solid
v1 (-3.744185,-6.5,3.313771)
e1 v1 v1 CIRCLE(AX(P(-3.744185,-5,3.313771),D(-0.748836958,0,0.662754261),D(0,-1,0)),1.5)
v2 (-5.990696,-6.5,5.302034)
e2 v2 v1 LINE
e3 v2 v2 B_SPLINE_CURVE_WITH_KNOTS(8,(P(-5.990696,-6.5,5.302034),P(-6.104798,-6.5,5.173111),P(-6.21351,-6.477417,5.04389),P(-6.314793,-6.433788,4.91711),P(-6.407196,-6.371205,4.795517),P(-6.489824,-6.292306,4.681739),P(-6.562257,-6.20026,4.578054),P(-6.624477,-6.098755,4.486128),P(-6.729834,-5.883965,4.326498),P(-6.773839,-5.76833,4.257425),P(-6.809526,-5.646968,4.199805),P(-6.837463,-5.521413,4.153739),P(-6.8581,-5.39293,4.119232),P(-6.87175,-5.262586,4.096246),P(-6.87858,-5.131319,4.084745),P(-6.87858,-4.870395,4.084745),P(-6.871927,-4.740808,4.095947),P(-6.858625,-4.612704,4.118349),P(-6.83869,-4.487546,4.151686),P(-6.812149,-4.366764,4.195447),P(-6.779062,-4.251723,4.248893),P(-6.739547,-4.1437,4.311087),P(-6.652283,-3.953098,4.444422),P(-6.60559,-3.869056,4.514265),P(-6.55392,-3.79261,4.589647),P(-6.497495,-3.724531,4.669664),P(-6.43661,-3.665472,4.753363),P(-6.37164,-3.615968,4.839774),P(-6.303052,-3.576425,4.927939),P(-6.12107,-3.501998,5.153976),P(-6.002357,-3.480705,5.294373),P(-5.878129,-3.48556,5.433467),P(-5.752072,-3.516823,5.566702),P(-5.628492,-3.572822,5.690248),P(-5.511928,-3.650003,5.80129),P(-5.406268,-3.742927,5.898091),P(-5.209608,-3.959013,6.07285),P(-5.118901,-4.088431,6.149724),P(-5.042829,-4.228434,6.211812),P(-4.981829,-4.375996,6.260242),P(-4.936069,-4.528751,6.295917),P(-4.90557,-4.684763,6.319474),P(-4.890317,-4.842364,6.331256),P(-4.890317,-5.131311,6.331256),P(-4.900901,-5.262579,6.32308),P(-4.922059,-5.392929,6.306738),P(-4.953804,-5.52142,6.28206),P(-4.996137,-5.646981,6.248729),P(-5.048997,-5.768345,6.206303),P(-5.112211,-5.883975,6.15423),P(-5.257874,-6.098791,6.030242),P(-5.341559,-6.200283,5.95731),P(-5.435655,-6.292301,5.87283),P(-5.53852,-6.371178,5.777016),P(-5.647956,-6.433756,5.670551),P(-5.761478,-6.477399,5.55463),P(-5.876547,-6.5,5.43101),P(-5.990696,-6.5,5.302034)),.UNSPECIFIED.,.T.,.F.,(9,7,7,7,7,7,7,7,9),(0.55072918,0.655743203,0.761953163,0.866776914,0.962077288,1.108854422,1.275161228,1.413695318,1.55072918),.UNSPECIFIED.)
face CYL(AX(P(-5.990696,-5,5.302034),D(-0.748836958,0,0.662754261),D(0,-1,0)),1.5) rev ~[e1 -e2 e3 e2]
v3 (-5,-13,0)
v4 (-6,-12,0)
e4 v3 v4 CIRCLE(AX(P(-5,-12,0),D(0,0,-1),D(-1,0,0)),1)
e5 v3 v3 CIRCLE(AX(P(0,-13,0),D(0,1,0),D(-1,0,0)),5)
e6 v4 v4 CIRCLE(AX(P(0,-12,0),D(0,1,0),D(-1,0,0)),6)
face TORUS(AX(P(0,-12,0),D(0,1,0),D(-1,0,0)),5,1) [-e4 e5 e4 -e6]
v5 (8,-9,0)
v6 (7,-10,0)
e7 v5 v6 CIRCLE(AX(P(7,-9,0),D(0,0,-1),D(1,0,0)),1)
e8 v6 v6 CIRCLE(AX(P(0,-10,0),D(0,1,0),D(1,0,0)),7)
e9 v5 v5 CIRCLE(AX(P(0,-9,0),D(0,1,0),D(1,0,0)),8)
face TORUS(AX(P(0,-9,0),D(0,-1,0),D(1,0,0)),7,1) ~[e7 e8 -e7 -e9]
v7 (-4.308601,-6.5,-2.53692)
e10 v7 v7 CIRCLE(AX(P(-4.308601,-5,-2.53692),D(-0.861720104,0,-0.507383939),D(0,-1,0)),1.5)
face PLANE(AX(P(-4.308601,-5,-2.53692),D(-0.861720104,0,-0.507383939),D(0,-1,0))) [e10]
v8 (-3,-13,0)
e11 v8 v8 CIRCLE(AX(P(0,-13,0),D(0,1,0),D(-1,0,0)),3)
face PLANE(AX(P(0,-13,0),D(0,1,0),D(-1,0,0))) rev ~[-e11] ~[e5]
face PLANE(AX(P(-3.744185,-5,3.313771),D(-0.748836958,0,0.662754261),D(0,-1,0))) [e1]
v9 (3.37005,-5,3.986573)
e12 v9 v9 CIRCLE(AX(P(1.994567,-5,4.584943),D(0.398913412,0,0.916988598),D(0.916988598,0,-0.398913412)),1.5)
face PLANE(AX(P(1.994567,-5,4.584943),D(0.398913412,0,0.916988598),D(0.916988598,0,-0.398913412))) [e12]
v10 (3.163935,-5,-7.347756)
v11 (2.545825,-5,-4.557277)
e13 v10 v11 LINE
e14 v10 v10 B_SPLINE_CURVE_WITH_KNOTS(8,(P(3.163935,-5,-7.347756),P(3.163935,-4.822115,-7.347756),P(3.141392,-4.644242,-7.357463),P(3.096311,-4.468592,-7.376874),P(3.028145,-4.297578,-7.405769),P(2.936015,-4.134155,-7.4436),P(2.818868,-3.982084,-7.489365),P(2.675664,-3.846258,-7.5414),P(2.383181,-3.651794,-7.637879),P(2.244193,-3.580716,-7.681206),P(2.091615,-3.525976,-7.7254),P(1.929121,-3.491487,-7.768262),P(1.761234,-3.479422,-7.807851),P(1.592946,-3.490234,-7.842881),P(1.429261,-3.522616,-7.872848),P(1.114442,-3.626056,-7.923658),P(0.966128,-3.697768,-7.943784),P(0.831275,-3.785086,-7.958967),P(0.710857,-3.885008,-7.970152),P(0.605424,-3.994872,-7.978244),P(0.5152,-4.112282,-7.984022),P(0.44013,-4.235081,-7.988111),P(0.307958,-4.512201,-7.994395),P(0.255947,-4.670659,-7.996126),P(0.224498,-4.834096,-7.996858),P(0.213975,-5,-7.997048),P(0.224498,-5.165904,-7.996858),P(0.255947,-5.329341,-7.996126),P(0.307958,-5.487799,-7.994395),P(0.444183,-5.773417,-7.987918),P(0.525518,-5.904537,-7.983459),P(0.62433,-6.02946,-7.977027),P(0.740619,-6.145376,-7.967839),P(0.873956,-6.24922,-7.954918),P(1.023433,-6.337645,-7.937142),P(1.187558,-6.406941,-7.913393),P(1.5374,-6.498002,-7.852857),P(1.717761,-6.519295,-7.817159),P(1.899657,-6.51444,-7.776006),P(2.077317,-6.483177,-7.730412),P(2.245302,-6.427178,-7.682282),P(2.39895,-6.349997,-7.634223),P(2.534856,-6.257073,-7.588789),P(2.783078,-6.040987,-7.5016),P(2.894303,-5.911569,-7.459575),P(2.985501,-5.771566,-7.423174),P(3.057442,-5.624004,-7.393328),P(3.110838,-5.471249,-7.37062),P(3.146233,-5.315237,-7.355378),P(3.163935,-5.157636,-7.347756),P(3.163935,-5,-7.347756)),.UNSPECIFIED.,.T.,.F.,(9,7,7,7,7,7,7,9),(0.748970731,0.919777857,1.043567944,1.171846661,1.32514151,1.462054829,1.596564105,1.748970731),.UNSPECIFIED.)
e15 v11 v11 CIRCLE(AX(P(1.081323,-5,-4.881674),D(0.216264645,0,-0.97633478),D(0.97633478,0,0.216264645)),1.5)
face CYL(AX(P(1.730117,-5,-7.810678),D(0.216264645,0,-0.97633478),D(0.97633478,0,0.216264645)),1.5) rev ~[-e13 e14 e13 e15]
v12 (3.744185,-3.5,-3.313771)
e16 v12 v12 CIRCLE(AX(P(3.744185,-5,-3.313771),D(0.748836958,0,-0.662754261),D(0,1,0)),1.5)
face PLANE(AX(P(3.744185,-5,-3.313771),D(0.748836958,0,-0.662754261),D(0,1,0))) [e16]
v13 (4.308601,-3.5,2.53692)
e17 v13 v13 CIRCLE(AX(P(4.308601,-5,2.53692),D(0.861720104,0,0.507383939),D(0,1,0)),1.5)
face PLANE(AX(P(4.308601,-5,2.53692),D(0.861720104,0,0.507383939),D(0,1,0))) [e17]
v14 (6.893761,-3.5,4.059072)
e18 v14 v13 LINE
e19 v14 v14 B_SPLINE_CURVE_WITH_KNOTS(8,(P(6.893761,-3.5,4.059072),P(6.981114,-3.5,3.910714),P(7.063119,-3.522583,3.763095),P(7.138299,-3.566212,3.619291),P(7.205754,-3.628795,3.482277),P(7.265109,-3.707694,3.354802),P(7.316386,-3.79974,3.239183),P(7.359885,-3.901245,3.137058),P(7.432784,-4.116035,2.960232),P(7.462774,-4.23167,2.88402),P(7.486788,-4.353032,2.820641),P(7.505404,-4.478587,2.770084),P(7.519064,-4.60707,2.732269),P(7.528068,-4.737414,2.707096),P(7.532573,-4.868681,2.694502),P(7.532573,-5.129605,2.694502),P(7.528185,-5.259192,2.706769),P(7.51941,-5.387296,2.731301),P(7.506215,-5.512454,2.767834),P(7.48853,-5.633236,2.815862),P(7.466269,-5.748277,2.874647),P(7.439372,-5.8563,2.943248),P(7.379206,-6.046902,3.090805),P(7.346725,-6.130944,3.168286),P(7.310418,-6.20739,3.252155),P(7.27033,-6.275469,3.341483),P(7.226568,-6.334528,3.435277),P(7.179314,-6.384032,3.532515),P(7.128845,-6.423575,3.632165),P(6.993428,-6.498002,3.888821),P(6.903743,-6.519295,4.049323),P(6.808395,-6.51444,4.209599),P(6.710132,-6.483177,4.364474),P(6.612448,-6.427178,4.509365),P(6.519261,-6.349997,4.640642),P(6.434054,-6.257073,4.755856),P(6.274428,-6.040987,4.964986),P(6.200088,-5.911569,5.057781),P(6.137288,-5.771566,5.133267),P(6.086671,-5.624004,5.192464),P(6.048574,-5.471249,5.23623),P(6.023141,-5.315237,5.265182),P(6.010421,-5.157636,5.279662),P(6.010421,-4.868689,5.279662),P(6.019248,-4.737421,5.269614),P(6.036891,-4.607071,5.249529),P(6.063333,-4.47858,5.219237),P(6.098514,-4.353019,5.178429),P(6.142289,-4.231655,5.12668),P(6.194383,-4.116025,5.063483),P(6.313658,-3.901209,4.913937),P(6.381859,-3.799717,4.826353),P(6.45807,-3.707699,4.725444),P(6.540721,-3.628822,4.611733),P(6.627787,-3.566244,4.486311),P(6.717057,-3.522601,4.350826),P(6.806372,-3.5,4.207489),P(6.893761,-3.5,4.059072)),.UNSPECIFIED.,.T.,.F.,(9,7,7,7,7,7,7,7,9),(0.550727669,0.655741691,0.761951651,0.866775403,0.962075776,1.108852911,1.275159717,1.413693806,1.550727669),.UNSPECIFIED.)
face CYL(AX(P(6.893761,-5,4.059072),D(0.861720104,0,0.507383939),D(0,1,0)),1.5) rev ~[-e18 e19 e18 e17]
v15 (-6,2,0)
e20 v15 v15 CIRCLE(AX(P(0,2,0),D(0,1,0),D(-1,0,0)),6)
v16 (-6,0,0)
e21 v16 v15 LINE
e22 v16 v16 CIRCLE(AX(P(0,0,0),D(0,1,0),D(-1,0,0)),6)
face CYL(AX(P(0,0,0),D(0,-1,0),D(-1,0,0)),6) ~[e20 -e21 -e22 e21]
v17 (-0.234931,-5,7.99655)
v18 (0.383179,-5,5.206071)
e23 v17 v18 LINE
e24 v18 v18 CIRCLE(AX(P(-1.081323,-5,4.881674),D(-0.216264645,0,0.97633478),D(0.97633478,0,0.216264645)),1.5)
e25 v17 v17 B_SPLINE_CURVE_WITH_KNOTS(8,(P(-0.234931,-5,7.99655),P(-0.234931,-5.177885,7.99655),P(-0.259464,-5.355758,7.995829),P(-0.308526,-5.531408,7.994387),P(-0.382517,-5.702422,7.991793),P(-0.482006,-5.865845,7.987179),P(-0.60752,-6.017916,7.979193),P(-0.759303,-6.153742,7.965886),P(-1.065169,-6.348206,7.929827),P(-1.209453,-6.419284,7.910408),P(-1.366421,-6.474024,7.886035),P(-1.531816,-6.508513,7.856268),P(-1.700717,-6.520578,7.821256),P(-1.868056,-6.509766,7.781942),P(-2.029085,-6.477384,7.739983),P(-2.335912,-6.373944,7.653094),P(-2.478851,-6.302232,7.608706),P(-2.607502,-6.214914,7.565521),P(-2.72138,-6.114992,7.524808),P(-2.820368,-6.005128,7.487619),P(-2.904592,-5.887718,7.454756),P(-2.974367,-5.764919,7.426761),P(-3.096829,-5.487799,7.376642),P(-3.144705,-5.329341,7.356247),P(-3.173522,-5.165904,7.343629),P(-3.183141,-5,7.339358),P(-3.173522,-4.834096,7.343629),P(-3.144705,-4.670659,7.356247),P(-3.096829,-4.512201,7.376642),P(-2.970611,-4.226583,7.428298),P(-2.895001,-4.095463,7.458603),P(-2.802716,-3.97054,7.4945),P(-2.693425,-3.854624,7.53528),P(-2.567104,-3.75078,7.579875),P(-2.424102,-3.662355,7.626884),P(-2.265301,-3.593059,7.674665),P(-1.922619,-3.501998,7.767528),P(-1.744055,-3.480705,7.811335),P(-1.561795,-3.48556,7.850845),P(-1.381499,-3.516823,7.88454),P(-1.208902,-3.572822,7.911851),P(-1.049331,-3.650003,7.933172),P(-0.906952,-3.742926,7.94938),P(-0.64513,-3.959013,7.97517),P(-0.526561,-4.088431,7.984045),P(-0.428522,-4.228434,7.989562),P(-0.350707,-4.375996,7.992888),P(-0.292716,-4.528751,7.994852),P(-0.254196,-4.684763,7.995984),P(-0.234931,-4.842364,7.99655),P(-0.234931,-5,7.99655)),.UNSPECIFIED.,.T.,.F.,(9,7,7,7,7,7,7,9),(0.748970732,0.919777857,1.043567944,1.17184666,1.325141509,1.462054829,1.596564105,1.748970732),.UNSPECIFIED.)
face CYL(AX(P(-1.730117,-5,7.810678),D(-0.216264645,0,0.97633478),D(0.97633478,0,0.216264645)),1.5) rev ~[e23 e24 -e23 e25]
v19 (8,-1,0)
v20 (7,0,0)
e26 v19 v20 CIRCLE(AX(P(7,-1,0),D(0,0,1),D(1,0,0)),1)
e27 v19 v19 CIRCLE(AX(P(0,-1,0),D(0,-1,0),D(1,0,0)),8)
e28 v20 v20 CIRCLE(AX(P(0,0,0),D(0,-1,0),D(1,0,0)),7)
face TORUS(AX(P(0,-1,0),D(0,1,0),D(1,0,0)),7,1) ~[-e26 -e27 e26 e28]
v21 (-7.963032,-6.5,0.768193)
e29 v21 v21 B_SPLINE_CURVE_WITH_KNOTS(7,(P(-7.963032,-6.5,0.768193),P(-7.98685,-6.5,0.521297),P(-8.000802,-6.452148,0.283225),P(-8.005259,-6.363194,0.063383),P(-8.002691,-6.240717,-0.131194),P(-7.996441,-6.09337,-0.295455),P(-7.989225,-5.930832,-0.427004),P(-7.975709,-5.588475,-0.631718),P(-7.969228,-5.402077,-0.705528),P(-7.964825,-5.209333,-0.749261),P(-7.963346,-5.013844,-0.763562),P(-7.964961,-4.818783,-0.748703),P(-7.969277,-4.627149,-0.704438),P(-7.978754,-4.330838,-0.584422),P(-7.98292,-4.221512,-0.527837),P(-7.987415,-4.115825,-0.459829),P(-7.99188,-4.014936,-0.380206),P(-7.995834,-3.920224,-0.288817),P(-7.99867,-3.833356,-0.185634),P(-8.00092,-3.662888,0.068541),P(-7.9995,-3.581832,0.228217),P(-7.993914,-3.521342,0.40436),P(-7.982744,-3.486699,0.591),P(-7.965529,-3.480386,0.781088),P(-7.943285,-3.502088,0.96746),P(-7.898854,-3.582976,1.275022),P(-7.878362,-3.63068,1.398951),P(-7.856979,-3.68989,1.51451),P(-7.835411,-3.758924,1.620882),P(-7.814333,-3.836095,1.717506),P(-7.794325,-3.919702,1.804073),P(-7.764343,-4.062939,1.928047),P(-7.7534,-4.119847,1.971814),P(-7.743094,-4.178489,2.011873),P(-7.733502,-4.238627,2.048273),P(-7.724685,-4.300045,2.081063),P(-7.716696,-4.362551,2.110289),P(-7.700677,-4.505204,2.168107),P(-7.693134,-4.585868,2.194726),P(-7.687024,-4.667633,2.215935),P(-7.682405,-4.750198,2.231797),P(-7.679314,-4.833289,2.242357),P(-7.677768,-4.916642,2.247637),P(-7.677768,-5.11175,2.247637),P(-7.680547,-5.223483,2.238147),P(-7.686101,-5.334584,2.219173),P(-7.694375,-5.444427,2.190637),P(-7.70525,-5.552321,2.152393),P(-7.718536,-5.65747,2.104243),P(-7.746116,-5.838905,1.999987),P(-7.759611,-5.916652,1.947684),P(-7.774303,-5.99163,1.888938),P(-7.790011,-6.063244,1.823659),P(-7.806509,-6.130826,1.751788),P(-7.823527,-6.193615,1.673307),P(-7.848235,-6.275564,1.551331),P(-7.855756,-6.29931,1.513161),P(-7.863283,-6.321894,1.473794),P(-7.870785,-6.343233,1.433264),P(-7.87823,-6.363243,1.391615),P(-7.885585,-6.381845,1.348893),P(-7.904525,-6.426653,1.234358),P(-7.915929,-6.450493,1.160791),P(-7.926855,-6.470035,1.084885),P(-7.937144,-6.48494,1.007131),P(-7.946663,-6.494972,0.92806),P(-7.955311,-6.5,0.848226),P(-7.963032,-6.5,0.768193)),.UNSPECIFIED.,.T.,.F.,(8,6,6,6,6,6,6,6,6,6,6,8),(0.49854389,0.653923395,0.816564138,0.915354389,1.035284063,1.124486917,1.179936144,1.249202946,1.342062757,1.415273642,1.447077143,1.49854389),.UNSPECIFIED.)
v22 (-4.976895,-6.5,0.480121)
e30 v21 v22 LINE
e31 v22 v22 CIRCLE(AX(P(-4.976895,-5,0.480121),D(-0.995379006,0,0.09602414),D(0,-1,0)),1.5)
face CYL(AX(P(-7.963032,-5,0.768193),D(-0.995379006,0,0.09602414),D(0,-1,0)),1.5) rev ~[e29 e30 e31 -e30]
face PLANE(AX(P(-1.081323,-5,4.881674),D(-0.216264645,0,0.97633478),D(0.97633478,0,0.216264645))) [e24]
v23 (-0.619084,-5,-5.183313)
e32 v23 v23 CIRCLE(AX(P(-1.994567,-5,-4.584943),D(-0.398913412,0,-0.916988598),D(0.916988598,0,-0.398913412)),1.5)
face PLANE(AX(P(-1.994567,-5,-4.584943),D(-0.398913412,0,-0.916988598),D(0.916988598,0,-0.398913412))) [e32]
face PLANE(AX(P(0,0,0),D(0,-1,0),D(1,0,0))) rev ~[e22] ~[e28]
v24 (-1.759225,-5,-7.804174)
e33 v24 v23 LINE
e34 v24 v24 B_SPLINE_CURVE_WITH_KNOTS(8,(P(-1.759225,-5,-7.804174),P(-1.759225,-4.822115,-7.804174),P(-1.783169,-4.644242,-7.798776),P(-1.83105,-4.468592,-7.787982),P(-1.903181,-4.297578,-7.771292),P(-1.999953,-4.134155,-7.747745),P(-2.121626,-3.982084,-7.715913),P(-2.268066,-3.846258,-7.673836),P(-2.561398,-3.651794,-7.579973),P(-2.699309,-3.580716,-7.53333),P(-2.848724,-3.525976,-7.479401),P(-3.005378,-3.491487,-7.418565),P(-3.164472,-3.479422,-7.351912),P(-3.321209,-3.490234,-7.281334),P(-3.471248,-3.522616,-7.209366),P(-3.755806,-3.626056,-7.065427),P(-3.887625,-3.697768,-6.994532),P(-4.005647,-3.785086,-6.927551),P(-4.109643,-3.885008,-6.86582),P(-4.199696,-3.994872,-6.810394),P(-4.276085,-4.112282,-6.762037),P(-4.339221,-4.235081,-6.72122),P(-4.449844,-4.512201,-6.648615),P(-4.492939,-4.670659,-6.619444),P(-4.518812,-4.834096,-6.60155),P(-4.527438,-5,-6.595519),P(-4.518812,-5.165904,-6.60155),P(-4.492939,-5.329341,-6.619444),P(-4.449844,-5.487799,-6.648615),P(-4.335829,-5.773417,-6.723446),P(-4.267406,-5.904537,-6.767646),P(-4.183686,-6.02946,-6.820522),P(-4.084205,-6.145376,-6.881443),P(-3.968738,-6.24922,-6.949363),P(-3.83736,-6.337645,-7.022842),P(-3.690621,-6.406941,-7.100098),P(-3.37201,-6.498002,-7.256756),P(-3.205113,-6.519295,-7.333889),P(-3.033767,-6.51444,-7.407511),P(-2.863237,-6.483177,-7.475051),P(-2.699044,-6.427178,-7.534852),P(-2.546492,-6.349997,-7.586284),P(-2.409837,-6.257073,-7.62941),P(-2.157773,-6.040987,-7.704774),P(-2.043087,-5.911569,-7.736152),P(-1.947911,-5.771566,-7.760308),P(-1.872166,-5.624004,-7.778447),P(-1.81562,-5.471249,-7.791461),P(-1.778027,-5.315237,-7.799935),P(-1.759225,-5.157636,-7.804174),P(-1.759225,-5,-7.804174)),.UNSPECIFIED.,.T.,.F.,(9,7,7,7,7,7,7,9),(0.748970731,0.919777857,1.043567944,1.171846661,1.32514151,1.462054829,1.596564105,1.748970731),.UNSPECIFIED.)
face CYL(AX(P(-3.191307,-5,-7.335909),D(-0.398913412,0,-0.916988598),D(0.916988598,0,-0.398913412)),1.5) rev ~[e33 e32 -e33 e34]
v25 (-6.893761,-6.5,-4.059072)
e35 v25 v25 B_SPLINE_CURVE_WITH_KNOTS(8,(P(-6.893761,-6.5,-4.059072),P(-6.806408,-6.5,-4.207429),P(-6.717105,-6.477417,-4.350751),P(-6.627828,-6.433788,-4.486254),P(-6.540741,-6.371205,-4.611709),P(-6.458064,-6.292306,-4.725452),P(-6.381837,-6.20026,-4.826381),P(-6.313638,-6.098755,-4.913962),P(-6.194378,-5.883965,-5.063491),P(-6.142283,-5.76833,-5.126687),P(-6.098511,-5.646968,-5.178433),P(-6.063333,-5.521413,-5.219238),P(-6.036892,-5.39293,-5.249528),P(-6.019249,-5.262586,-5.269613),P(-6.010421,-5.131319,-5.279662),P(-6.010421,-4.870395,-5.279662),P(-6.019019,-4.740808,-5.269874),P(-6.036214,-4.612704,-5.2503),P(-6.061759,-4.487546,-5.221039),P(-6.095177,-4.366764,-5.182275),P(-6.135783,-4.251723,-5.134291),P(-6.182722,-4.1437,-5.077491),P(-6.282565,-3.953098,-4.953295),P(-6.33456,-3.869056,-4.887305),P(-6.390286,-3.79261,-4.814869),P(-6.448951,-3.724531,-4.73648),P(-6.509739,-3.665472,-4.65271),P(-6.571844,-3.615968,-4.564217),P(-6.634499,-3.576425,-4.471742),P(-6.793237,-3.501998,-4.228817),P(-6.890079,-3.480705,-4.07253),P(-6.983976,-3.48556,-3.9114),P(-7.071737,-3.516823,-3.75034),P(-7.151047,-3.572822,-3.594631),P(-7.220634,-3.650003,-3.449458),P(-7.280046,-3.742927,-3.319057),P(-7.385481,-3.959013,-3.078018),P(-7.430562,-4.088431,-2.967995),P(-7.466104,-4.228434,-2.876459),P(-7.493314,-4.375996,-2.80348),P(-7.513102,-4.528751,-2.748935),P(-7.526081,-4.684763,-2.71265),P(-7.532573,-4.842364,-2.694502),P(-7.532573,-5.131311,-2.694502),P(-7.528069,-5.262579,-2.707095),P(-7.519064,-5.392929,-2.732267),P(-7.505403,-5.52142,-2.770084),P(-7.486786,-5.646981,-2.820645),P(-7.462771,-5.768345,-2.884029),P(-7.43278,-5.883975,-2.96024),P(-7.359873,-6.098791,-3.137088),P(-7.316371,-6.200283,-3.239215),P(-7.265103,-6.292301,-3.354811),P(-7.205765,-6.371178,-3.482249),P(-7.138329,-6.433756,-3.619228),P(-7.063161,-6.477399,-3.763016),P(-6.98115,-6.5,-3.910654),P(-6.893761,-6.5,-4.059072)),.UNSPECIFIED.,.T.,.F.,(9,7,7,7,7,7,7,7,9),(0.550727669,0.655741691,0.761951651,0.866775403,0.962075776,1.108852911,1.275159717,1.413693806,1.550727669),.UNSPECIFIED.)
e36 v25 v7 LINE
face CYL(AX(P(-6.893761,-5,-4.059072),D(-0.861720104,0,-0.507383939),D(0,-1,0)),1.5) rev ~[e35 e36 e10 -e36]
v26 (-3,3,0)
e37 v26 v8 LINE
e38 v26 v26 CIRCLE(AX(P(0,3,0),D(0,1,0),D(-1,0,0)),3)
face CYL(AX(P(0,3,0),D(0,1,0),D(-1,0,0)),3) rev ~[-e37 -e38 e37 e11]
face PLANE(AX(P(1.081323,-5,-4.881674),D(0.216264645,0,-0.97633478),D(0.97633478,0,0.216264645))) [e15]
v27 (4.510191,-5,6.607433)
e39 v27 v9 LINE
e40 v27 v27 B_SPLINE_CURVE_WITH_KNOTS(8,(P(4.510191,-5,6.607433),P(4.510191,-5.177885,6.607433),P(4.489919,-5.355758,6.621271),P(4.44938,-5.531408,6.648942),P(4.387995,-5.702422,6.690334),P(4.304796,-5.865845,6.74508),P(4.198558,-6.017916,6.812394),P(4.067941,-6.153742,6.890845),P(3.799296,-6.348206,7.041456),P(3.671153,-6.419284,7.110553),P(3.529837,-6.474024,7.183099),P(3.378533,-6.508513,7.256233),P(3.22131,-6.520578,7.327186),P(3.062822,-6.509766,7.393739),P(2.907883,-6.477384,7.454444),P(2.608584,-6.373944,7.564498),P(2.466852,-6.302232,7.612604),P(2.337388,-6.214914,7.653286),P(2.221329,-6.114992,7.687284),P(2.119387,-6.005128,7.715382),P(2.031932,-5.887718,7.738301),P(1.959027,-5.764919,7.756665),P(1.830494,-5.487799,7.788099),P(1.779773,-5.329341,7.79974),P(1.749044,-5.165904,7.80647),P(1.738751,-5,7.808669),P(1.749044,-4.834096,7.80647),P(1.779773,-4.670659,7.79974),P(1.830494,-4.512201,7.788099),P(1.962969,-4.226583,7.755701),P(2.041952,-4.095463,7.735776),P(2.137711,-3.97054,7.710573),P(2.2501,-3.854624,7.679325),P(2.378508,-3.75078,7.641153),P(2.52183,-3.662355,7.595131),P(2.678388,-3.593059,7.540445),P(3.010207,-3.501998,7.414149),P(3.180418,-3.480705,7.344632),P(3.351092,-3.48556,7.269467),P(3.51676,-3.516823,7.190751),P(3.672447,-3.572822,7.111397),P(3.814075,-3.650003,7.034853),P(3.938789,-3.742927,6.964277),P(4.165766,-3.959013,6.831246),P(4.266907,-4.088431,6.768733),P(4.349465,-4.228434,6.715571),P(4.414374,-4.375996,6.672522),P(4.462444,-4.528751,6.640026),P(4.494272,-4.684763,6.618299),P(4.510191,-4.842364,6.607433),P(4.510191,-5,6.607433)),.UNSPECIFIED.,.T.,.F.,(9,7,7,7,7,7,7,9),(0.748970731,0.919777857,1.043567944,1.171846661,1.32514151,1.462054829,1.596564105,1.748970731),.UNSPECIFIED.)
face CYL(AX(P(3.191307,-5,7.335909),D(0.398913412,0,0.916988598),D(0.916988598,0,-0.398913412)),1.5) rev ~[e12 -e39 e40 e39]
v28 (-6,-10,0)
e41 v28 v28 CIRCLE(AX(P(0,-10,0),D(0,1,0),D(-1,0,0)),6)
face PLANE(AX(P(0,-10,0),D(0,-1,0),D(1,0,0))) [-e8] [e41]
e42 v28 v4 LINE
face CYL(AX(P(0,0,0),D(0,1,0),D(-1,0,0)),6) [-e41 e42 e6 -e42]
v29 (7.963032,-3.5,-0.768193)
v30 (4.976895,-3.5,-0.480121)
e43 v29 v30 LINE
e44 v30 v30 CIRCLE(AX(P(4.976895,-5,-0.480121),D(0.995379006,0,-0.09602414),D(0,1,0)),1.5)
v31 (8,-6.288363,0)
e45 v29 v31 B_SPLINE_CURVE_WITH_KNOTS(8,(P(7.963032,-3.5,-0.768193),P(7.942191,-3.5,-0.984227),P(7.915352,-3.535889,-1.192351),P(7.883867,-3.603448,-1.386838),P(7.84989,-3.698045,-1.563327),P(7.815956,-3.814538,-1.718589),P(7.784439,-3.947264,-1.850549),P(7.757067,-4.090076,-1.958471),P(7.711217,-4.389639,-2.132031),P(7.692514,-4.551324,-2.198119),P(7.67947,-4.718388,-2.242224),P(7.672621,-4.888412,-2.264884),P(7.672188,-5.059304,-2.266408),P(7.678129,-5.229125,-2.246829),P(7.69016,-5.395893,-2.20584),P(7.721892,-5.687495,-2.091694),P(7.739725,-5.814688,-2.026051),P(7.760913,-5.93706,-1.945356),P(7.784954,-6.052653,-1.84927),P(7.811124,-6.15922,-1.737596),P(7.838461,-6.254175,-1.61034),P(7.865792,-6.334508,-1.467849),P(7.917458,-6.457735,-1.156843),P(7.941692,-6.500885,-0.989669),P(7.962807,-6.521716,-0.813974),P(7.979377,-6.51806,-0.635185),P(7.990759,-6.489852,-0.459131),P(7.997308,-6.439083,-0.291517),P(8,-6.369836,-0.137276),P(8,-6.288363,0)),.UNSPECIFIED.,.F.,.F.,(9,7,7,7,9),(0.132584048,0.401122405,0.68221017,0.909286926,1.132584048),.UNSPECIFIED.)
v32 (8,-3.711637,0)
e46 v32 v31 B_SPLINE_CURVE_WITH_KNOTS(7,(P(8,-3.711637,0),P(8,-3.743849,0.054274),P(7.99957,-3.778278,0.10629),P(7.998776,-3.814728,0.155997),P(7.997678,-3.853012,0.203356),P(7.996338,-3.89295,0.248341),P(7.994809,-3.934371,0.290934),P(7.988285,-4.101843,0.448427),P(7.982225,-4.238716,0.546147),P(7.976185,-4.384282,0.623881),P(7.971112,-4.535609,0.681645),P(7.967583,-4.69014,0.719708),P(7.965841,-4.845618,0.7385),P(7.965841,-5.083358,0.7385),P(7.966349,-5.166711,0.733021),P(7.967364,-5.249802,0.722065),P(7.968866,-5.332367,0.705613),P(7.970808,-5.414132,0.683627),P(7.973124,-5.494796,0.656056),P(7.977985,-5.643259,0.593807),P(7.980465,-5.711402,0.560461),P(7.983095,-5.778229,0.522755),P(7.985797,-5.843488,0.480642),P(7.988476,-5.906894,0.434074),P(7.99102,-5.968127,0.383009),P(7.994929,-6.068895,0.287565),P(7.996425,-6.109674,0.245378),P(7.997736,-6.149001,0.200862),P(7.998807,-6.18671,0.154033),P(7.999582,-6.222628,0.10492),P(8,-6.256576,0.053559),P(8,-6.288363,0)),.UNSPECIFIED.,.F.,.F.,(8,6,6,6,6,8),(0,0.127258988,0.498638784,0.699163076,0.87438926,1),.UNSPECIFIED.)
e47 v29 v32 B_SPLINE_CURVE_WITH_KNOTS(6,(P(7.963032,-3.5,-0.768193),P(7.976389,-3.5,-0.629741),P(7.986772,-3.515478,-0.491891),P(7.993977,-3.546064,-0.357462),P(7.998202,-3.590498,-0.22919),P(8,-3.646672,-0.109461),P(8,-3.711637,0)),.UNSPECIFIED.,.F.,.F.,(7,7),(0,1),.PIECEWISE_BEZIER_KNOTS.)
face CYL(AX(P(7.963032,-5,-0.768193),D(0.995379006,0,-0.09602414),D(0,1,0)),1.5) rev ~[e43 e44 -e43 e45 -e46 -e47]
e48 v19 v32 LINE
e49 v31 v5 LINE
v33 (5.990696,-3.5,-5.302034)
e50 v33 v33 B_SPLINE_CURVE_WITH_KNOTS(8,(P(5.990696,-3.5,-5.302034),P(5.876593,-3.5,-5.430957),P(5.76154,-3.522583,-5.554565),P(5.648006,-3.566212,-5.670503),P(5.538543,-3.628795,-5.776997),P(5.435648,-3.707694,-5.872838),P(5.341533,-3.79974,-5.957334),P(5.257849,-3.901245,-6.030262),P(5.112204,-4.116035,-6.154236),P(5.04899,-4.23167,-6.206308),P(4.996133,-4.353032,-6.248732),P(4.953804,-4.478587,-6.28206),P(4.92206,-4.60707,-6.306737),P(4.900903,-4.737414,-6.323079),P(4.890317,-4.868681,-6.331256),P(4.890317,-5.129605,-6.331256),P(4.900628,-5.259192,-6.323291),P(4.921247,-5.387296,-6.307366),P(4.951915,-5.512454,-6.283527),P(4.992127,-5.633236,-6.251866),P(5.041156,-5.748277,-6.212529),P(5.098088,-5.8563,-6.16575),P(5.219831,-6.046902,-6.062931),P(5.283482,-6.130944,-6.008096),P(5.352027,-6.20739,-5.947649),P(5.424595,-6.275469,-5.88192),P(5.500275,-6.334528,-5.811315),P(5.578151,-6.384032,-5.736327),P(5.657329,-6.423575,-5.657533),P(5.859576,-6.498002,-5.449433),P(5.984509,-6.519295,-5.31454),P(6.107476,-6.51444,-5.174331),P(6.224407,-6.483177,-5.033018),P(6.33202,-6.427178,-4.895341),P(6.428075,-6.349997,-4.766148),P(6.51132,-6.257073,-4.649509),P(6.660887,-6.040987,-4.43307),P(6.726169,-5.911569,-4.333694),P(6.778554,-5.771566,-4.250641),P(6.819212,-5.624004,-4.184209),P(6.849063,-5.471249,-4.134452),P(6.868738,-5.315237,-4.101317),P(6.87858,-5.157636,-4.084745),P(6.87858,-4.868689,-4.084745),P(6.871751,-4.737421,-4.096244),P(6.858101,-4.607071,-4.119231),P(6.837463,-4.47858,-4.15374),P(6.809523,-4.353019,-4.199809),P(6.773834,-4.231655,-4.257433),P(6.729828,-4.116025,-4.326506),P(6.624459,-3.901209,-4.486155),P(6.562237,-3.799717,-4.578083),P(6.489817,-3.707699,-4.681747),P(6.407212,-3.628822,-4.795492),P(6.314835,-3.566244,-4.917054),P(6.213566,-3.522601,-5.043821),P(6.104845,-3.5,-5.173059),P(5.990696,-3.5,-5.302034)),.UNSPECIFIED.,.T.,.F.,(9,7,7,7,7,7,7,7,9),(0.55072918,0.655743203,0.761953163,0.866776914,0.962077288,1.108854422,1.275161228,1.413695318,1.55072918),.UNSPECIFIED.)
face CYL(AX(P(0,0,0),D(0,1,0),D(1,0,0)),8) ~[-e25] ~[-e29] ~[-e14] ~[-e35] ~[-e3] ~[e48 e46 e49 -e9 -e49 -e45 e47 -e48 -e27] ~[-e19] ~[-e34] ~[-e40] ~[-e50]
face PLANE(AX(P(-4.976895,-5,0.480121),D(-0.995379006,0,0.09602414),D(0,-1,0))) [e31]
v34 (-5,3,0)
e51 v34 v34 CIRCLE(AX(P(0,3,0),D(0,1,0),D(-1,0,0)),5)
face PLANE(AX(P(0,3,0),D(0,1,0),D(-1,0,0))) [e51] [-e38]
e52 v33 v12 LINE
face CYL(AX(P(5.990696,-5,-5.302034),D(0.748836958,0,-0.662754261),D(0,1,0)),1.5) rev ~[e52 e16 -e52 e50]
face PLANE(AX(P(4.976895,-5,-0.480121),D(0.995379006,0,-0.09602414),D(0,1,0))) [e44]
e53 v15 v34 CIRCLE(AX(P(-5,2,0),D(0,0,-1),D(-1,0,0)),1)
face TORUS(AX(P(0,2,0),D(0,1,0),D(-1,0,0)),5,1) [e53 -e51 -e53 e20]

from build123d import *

# Parameters (mm, degrees)
F0_R          = 8
F1_DEPTH      = 10
F2_R          = 6
F3_DEPTH      = 13
F3_DEPTH_BACK = 3
F5_DEPTH      = 10
F13_R         = 1.5
F16_DEPTH     = 3
F14_R         = 1.5
F17_DEPTH     = 3
F15_R         = 1.5
F18_DEPTH     = 3
F6_R          = 1.5
F19_DEPTH     = 3
F7_R          = 1.5
F20_DEPTH     = 3
F8_R          = 1.5
F21_DEPTH     = 3
F9_R          = 1.5
F22_DEPTH     = 3
F10_R         = 1.5
F23_DEPTH     = 3
F11_R         = 1.5
F24_DEPTH     = 3
F12_R         = 1.5
F25_DEPTH     = 3
F26_R         = 3
F27_DEPTH     = 16
F28_R         = 9.2657382737
F28_R_2       = 8
F29_DEPTH     = 10
F30_R         = 1


with BuildPart() as f1:
    # F0 (on Front) → F1 (new body)
    with BuildSketch(Plane.XZ):
        Circle(F0_R)
    extrude(amount=F1_DEPTH)

    # F2 (on face) → F3 (join, two sides)
    with BuildSketch(Plane(origin=(0, 0, 0), x_dir=(-1, 0, 0), z_dir=(0, 1, 0))) as f3_sk:
        Circle(F2_R)
    extrude(amount=-F3_DEPTH)
    extrude(f3_sk.sketch, amount=F3_DEPTH_BACK)

    # F4 (on Front) → F5 (join)
    with BuildSketch(Plane.XZ):
        Polygon((-8.2126331182, -1.8191528364), (-5.5748885523, -6.2989901894), (-0.8077260429, -8.3728273848), (4.2679603613, -7.2485291012), (7.7134309701, -3.3555390694), (8.2126331182, 1.8191528364), (5.5748885523, 6.2989901894), (0.8077260429, 8.3728273848), (-4.2679603613, 7.2485291012), (-7.7134309701, 3.3555390694), align=None)
    extrude(amount=F5_DEPTH)

    # F13 (on face) → F16 (cut)
    with BuildSketch(Plane(origin=(7.9630320441, 0, -0.7681931165), x_dir=(0, 1, 0), z_dir=(0.9953790055, 0, -0.0960241396))):
        with Locations((-5, 0)):
            Circle(F13_R)
    extrude(amount=-F16_DEPTH, mode=Mode.SUBTRACT)

    # F14 (on face) → F17 (cut)
    with BuildSketch(Plane(origin=(6.8937608352, 0, 4.0590715129), x_dir=(0, 1, 0), z_dir=(0.8617201044, 0, 0.5073839391))):
        with Locations((-5, 0)):
            Circle(F14_R)
    extrude(amount=-F17_DEPTH, mode=Mode.SUBTRACT)

    # F15 (on face) → F18 (cut)
    with BuildSketch(Plane(origin=(3.1913072976, 0, 7.3359087871), x_dir=(0.9169885984, 0, -0.3989134122), z_dir=(0.3989134122, 0, 0.9169885984))):
        with Locations((0, -5)):
            Circle(F15_R)
    extrude(amount=-F18_DEPTH, mode=Mode.SUBTRACT)

    # F6 (on face) → F19 (cut)
    with BuildSketch(Plane(origin=(-1.7301171592, 0, 7.810678243), x_dir=(0.9763347804, 0, 0.2162646449), z_dir=(-0.2162646449, 0, 0.9763347804))):
        with Locations((0, -5)):
            Circle(F6_R)
    extrude(amount=-F19_DEPTH, mode=Mode.SUBTRACT)

    # F7 (on face) → F20 (cut)
    with BuildSketch(Plane(origin=(-5.9906956657, 0, 5.3020340853), x_dir=(0, -1, 0), z_dir=(-0.7488369582, 0, 0.6627542607))):
        with Locations((5, 0)):
            Circle(F7_R)
    extrude(amount=-F20_DEPTH, mode=Mode.SUBTRACT)

    # F8 (on face) → F21 (cut)
    with BuildSketch(Plane(origin=(-7.9630320441, 0, 0.7681931165), x_dir=(0, -1, 0), z_dir=(-0.9953790055, 0, 0.0960241396))):
        with Locations((5, 0)):
            Circle(F8_R)
    extrude(amount=-F21_DEPTH, mode=Mode.SUBTRACT)

    # F9 (on face) → F22 (cut)
    with BuildSketch(Plane(origin=(-6.8937608352, 0, -4.0590715129), x_dir=(0, -1, 0), z_dir=(-0.8617201044, 0, -0.5073839391))):
        with Locations((5, 0)):
            Circle(F9_R)
    extrude(amount=-F22_DEPTH, mode=Mode.SUBTRACT)

    # F10 (on face) → F23 (cut)
    with BuildSketch(Plane(origin=(-3.1913072976, 0, -7.3359087871), x_dir=(0.9169885984, 0, -0.3989134122), z_dir=(-0.3989134122, 0, -0.9169885984))):
        with Locations((0, 5)):
            Circle(F10_R)
    extrude(amount=-F23_DEPTH, mode=Mode.SUBTRACT)

    # F11 (on face) → F24 (cut)
    with BuildSketch(Plane(origin=(1.7301171592, 0, -7.810678243), x_dir=(0.9763347804, 0, 0.2162646449), z_dir=(0.2162646449, 0, -0.9763347804))):
        with Locations((0, 5)):
            Circle(F11_R)
    extrude(amount=-F24_DEPTH, mode=Mode.SUBTRACT)

    # F12 (on face) → F25 (cut)
    with BuildSketch(Plane(origin=(5.9906956657, 0, -5.3020340853), x_dir=(0, 1, 0), z_dir=(0.7488369582, 0, -0.6627542607))):
        with Locations((-5, 0)):
            Circle(F12_R)
    extrude(amount=-F25_DEPTH, mode=Mode.SUBTRACT)

    # F26 (on face) → F27 (cut)
    with BuildSketch(Plane(origin=(0, 3, 0), x_dir=(-1, 0, 0), z_dir=(0, 1, 0))):
        Circle(F26_R)
    extrude(amount=-F27_DEPTH, mode=Mode.SUBTRACT)

    # F28 (on Front) → F29 (cut)
    with BuildSketch(Plane.XZ):
        Circle(F28_R)
        Circle(F28_R_2, mode=Mode.SUBTRACT)
    extrude(amount=F29_DEPTH, mode=Mode.SUBTRACT)

    # F30
    f30_edges = [f1.edges().sort_by_distance(p)[0] for p in [
        (-8, -10, 0),
        (6, -13, 0),
        (-8, 0, 0),
        (6, 3, 0),
    ]]
    fillet(f30_edges, radius=F30_R)


solid = f1.part
